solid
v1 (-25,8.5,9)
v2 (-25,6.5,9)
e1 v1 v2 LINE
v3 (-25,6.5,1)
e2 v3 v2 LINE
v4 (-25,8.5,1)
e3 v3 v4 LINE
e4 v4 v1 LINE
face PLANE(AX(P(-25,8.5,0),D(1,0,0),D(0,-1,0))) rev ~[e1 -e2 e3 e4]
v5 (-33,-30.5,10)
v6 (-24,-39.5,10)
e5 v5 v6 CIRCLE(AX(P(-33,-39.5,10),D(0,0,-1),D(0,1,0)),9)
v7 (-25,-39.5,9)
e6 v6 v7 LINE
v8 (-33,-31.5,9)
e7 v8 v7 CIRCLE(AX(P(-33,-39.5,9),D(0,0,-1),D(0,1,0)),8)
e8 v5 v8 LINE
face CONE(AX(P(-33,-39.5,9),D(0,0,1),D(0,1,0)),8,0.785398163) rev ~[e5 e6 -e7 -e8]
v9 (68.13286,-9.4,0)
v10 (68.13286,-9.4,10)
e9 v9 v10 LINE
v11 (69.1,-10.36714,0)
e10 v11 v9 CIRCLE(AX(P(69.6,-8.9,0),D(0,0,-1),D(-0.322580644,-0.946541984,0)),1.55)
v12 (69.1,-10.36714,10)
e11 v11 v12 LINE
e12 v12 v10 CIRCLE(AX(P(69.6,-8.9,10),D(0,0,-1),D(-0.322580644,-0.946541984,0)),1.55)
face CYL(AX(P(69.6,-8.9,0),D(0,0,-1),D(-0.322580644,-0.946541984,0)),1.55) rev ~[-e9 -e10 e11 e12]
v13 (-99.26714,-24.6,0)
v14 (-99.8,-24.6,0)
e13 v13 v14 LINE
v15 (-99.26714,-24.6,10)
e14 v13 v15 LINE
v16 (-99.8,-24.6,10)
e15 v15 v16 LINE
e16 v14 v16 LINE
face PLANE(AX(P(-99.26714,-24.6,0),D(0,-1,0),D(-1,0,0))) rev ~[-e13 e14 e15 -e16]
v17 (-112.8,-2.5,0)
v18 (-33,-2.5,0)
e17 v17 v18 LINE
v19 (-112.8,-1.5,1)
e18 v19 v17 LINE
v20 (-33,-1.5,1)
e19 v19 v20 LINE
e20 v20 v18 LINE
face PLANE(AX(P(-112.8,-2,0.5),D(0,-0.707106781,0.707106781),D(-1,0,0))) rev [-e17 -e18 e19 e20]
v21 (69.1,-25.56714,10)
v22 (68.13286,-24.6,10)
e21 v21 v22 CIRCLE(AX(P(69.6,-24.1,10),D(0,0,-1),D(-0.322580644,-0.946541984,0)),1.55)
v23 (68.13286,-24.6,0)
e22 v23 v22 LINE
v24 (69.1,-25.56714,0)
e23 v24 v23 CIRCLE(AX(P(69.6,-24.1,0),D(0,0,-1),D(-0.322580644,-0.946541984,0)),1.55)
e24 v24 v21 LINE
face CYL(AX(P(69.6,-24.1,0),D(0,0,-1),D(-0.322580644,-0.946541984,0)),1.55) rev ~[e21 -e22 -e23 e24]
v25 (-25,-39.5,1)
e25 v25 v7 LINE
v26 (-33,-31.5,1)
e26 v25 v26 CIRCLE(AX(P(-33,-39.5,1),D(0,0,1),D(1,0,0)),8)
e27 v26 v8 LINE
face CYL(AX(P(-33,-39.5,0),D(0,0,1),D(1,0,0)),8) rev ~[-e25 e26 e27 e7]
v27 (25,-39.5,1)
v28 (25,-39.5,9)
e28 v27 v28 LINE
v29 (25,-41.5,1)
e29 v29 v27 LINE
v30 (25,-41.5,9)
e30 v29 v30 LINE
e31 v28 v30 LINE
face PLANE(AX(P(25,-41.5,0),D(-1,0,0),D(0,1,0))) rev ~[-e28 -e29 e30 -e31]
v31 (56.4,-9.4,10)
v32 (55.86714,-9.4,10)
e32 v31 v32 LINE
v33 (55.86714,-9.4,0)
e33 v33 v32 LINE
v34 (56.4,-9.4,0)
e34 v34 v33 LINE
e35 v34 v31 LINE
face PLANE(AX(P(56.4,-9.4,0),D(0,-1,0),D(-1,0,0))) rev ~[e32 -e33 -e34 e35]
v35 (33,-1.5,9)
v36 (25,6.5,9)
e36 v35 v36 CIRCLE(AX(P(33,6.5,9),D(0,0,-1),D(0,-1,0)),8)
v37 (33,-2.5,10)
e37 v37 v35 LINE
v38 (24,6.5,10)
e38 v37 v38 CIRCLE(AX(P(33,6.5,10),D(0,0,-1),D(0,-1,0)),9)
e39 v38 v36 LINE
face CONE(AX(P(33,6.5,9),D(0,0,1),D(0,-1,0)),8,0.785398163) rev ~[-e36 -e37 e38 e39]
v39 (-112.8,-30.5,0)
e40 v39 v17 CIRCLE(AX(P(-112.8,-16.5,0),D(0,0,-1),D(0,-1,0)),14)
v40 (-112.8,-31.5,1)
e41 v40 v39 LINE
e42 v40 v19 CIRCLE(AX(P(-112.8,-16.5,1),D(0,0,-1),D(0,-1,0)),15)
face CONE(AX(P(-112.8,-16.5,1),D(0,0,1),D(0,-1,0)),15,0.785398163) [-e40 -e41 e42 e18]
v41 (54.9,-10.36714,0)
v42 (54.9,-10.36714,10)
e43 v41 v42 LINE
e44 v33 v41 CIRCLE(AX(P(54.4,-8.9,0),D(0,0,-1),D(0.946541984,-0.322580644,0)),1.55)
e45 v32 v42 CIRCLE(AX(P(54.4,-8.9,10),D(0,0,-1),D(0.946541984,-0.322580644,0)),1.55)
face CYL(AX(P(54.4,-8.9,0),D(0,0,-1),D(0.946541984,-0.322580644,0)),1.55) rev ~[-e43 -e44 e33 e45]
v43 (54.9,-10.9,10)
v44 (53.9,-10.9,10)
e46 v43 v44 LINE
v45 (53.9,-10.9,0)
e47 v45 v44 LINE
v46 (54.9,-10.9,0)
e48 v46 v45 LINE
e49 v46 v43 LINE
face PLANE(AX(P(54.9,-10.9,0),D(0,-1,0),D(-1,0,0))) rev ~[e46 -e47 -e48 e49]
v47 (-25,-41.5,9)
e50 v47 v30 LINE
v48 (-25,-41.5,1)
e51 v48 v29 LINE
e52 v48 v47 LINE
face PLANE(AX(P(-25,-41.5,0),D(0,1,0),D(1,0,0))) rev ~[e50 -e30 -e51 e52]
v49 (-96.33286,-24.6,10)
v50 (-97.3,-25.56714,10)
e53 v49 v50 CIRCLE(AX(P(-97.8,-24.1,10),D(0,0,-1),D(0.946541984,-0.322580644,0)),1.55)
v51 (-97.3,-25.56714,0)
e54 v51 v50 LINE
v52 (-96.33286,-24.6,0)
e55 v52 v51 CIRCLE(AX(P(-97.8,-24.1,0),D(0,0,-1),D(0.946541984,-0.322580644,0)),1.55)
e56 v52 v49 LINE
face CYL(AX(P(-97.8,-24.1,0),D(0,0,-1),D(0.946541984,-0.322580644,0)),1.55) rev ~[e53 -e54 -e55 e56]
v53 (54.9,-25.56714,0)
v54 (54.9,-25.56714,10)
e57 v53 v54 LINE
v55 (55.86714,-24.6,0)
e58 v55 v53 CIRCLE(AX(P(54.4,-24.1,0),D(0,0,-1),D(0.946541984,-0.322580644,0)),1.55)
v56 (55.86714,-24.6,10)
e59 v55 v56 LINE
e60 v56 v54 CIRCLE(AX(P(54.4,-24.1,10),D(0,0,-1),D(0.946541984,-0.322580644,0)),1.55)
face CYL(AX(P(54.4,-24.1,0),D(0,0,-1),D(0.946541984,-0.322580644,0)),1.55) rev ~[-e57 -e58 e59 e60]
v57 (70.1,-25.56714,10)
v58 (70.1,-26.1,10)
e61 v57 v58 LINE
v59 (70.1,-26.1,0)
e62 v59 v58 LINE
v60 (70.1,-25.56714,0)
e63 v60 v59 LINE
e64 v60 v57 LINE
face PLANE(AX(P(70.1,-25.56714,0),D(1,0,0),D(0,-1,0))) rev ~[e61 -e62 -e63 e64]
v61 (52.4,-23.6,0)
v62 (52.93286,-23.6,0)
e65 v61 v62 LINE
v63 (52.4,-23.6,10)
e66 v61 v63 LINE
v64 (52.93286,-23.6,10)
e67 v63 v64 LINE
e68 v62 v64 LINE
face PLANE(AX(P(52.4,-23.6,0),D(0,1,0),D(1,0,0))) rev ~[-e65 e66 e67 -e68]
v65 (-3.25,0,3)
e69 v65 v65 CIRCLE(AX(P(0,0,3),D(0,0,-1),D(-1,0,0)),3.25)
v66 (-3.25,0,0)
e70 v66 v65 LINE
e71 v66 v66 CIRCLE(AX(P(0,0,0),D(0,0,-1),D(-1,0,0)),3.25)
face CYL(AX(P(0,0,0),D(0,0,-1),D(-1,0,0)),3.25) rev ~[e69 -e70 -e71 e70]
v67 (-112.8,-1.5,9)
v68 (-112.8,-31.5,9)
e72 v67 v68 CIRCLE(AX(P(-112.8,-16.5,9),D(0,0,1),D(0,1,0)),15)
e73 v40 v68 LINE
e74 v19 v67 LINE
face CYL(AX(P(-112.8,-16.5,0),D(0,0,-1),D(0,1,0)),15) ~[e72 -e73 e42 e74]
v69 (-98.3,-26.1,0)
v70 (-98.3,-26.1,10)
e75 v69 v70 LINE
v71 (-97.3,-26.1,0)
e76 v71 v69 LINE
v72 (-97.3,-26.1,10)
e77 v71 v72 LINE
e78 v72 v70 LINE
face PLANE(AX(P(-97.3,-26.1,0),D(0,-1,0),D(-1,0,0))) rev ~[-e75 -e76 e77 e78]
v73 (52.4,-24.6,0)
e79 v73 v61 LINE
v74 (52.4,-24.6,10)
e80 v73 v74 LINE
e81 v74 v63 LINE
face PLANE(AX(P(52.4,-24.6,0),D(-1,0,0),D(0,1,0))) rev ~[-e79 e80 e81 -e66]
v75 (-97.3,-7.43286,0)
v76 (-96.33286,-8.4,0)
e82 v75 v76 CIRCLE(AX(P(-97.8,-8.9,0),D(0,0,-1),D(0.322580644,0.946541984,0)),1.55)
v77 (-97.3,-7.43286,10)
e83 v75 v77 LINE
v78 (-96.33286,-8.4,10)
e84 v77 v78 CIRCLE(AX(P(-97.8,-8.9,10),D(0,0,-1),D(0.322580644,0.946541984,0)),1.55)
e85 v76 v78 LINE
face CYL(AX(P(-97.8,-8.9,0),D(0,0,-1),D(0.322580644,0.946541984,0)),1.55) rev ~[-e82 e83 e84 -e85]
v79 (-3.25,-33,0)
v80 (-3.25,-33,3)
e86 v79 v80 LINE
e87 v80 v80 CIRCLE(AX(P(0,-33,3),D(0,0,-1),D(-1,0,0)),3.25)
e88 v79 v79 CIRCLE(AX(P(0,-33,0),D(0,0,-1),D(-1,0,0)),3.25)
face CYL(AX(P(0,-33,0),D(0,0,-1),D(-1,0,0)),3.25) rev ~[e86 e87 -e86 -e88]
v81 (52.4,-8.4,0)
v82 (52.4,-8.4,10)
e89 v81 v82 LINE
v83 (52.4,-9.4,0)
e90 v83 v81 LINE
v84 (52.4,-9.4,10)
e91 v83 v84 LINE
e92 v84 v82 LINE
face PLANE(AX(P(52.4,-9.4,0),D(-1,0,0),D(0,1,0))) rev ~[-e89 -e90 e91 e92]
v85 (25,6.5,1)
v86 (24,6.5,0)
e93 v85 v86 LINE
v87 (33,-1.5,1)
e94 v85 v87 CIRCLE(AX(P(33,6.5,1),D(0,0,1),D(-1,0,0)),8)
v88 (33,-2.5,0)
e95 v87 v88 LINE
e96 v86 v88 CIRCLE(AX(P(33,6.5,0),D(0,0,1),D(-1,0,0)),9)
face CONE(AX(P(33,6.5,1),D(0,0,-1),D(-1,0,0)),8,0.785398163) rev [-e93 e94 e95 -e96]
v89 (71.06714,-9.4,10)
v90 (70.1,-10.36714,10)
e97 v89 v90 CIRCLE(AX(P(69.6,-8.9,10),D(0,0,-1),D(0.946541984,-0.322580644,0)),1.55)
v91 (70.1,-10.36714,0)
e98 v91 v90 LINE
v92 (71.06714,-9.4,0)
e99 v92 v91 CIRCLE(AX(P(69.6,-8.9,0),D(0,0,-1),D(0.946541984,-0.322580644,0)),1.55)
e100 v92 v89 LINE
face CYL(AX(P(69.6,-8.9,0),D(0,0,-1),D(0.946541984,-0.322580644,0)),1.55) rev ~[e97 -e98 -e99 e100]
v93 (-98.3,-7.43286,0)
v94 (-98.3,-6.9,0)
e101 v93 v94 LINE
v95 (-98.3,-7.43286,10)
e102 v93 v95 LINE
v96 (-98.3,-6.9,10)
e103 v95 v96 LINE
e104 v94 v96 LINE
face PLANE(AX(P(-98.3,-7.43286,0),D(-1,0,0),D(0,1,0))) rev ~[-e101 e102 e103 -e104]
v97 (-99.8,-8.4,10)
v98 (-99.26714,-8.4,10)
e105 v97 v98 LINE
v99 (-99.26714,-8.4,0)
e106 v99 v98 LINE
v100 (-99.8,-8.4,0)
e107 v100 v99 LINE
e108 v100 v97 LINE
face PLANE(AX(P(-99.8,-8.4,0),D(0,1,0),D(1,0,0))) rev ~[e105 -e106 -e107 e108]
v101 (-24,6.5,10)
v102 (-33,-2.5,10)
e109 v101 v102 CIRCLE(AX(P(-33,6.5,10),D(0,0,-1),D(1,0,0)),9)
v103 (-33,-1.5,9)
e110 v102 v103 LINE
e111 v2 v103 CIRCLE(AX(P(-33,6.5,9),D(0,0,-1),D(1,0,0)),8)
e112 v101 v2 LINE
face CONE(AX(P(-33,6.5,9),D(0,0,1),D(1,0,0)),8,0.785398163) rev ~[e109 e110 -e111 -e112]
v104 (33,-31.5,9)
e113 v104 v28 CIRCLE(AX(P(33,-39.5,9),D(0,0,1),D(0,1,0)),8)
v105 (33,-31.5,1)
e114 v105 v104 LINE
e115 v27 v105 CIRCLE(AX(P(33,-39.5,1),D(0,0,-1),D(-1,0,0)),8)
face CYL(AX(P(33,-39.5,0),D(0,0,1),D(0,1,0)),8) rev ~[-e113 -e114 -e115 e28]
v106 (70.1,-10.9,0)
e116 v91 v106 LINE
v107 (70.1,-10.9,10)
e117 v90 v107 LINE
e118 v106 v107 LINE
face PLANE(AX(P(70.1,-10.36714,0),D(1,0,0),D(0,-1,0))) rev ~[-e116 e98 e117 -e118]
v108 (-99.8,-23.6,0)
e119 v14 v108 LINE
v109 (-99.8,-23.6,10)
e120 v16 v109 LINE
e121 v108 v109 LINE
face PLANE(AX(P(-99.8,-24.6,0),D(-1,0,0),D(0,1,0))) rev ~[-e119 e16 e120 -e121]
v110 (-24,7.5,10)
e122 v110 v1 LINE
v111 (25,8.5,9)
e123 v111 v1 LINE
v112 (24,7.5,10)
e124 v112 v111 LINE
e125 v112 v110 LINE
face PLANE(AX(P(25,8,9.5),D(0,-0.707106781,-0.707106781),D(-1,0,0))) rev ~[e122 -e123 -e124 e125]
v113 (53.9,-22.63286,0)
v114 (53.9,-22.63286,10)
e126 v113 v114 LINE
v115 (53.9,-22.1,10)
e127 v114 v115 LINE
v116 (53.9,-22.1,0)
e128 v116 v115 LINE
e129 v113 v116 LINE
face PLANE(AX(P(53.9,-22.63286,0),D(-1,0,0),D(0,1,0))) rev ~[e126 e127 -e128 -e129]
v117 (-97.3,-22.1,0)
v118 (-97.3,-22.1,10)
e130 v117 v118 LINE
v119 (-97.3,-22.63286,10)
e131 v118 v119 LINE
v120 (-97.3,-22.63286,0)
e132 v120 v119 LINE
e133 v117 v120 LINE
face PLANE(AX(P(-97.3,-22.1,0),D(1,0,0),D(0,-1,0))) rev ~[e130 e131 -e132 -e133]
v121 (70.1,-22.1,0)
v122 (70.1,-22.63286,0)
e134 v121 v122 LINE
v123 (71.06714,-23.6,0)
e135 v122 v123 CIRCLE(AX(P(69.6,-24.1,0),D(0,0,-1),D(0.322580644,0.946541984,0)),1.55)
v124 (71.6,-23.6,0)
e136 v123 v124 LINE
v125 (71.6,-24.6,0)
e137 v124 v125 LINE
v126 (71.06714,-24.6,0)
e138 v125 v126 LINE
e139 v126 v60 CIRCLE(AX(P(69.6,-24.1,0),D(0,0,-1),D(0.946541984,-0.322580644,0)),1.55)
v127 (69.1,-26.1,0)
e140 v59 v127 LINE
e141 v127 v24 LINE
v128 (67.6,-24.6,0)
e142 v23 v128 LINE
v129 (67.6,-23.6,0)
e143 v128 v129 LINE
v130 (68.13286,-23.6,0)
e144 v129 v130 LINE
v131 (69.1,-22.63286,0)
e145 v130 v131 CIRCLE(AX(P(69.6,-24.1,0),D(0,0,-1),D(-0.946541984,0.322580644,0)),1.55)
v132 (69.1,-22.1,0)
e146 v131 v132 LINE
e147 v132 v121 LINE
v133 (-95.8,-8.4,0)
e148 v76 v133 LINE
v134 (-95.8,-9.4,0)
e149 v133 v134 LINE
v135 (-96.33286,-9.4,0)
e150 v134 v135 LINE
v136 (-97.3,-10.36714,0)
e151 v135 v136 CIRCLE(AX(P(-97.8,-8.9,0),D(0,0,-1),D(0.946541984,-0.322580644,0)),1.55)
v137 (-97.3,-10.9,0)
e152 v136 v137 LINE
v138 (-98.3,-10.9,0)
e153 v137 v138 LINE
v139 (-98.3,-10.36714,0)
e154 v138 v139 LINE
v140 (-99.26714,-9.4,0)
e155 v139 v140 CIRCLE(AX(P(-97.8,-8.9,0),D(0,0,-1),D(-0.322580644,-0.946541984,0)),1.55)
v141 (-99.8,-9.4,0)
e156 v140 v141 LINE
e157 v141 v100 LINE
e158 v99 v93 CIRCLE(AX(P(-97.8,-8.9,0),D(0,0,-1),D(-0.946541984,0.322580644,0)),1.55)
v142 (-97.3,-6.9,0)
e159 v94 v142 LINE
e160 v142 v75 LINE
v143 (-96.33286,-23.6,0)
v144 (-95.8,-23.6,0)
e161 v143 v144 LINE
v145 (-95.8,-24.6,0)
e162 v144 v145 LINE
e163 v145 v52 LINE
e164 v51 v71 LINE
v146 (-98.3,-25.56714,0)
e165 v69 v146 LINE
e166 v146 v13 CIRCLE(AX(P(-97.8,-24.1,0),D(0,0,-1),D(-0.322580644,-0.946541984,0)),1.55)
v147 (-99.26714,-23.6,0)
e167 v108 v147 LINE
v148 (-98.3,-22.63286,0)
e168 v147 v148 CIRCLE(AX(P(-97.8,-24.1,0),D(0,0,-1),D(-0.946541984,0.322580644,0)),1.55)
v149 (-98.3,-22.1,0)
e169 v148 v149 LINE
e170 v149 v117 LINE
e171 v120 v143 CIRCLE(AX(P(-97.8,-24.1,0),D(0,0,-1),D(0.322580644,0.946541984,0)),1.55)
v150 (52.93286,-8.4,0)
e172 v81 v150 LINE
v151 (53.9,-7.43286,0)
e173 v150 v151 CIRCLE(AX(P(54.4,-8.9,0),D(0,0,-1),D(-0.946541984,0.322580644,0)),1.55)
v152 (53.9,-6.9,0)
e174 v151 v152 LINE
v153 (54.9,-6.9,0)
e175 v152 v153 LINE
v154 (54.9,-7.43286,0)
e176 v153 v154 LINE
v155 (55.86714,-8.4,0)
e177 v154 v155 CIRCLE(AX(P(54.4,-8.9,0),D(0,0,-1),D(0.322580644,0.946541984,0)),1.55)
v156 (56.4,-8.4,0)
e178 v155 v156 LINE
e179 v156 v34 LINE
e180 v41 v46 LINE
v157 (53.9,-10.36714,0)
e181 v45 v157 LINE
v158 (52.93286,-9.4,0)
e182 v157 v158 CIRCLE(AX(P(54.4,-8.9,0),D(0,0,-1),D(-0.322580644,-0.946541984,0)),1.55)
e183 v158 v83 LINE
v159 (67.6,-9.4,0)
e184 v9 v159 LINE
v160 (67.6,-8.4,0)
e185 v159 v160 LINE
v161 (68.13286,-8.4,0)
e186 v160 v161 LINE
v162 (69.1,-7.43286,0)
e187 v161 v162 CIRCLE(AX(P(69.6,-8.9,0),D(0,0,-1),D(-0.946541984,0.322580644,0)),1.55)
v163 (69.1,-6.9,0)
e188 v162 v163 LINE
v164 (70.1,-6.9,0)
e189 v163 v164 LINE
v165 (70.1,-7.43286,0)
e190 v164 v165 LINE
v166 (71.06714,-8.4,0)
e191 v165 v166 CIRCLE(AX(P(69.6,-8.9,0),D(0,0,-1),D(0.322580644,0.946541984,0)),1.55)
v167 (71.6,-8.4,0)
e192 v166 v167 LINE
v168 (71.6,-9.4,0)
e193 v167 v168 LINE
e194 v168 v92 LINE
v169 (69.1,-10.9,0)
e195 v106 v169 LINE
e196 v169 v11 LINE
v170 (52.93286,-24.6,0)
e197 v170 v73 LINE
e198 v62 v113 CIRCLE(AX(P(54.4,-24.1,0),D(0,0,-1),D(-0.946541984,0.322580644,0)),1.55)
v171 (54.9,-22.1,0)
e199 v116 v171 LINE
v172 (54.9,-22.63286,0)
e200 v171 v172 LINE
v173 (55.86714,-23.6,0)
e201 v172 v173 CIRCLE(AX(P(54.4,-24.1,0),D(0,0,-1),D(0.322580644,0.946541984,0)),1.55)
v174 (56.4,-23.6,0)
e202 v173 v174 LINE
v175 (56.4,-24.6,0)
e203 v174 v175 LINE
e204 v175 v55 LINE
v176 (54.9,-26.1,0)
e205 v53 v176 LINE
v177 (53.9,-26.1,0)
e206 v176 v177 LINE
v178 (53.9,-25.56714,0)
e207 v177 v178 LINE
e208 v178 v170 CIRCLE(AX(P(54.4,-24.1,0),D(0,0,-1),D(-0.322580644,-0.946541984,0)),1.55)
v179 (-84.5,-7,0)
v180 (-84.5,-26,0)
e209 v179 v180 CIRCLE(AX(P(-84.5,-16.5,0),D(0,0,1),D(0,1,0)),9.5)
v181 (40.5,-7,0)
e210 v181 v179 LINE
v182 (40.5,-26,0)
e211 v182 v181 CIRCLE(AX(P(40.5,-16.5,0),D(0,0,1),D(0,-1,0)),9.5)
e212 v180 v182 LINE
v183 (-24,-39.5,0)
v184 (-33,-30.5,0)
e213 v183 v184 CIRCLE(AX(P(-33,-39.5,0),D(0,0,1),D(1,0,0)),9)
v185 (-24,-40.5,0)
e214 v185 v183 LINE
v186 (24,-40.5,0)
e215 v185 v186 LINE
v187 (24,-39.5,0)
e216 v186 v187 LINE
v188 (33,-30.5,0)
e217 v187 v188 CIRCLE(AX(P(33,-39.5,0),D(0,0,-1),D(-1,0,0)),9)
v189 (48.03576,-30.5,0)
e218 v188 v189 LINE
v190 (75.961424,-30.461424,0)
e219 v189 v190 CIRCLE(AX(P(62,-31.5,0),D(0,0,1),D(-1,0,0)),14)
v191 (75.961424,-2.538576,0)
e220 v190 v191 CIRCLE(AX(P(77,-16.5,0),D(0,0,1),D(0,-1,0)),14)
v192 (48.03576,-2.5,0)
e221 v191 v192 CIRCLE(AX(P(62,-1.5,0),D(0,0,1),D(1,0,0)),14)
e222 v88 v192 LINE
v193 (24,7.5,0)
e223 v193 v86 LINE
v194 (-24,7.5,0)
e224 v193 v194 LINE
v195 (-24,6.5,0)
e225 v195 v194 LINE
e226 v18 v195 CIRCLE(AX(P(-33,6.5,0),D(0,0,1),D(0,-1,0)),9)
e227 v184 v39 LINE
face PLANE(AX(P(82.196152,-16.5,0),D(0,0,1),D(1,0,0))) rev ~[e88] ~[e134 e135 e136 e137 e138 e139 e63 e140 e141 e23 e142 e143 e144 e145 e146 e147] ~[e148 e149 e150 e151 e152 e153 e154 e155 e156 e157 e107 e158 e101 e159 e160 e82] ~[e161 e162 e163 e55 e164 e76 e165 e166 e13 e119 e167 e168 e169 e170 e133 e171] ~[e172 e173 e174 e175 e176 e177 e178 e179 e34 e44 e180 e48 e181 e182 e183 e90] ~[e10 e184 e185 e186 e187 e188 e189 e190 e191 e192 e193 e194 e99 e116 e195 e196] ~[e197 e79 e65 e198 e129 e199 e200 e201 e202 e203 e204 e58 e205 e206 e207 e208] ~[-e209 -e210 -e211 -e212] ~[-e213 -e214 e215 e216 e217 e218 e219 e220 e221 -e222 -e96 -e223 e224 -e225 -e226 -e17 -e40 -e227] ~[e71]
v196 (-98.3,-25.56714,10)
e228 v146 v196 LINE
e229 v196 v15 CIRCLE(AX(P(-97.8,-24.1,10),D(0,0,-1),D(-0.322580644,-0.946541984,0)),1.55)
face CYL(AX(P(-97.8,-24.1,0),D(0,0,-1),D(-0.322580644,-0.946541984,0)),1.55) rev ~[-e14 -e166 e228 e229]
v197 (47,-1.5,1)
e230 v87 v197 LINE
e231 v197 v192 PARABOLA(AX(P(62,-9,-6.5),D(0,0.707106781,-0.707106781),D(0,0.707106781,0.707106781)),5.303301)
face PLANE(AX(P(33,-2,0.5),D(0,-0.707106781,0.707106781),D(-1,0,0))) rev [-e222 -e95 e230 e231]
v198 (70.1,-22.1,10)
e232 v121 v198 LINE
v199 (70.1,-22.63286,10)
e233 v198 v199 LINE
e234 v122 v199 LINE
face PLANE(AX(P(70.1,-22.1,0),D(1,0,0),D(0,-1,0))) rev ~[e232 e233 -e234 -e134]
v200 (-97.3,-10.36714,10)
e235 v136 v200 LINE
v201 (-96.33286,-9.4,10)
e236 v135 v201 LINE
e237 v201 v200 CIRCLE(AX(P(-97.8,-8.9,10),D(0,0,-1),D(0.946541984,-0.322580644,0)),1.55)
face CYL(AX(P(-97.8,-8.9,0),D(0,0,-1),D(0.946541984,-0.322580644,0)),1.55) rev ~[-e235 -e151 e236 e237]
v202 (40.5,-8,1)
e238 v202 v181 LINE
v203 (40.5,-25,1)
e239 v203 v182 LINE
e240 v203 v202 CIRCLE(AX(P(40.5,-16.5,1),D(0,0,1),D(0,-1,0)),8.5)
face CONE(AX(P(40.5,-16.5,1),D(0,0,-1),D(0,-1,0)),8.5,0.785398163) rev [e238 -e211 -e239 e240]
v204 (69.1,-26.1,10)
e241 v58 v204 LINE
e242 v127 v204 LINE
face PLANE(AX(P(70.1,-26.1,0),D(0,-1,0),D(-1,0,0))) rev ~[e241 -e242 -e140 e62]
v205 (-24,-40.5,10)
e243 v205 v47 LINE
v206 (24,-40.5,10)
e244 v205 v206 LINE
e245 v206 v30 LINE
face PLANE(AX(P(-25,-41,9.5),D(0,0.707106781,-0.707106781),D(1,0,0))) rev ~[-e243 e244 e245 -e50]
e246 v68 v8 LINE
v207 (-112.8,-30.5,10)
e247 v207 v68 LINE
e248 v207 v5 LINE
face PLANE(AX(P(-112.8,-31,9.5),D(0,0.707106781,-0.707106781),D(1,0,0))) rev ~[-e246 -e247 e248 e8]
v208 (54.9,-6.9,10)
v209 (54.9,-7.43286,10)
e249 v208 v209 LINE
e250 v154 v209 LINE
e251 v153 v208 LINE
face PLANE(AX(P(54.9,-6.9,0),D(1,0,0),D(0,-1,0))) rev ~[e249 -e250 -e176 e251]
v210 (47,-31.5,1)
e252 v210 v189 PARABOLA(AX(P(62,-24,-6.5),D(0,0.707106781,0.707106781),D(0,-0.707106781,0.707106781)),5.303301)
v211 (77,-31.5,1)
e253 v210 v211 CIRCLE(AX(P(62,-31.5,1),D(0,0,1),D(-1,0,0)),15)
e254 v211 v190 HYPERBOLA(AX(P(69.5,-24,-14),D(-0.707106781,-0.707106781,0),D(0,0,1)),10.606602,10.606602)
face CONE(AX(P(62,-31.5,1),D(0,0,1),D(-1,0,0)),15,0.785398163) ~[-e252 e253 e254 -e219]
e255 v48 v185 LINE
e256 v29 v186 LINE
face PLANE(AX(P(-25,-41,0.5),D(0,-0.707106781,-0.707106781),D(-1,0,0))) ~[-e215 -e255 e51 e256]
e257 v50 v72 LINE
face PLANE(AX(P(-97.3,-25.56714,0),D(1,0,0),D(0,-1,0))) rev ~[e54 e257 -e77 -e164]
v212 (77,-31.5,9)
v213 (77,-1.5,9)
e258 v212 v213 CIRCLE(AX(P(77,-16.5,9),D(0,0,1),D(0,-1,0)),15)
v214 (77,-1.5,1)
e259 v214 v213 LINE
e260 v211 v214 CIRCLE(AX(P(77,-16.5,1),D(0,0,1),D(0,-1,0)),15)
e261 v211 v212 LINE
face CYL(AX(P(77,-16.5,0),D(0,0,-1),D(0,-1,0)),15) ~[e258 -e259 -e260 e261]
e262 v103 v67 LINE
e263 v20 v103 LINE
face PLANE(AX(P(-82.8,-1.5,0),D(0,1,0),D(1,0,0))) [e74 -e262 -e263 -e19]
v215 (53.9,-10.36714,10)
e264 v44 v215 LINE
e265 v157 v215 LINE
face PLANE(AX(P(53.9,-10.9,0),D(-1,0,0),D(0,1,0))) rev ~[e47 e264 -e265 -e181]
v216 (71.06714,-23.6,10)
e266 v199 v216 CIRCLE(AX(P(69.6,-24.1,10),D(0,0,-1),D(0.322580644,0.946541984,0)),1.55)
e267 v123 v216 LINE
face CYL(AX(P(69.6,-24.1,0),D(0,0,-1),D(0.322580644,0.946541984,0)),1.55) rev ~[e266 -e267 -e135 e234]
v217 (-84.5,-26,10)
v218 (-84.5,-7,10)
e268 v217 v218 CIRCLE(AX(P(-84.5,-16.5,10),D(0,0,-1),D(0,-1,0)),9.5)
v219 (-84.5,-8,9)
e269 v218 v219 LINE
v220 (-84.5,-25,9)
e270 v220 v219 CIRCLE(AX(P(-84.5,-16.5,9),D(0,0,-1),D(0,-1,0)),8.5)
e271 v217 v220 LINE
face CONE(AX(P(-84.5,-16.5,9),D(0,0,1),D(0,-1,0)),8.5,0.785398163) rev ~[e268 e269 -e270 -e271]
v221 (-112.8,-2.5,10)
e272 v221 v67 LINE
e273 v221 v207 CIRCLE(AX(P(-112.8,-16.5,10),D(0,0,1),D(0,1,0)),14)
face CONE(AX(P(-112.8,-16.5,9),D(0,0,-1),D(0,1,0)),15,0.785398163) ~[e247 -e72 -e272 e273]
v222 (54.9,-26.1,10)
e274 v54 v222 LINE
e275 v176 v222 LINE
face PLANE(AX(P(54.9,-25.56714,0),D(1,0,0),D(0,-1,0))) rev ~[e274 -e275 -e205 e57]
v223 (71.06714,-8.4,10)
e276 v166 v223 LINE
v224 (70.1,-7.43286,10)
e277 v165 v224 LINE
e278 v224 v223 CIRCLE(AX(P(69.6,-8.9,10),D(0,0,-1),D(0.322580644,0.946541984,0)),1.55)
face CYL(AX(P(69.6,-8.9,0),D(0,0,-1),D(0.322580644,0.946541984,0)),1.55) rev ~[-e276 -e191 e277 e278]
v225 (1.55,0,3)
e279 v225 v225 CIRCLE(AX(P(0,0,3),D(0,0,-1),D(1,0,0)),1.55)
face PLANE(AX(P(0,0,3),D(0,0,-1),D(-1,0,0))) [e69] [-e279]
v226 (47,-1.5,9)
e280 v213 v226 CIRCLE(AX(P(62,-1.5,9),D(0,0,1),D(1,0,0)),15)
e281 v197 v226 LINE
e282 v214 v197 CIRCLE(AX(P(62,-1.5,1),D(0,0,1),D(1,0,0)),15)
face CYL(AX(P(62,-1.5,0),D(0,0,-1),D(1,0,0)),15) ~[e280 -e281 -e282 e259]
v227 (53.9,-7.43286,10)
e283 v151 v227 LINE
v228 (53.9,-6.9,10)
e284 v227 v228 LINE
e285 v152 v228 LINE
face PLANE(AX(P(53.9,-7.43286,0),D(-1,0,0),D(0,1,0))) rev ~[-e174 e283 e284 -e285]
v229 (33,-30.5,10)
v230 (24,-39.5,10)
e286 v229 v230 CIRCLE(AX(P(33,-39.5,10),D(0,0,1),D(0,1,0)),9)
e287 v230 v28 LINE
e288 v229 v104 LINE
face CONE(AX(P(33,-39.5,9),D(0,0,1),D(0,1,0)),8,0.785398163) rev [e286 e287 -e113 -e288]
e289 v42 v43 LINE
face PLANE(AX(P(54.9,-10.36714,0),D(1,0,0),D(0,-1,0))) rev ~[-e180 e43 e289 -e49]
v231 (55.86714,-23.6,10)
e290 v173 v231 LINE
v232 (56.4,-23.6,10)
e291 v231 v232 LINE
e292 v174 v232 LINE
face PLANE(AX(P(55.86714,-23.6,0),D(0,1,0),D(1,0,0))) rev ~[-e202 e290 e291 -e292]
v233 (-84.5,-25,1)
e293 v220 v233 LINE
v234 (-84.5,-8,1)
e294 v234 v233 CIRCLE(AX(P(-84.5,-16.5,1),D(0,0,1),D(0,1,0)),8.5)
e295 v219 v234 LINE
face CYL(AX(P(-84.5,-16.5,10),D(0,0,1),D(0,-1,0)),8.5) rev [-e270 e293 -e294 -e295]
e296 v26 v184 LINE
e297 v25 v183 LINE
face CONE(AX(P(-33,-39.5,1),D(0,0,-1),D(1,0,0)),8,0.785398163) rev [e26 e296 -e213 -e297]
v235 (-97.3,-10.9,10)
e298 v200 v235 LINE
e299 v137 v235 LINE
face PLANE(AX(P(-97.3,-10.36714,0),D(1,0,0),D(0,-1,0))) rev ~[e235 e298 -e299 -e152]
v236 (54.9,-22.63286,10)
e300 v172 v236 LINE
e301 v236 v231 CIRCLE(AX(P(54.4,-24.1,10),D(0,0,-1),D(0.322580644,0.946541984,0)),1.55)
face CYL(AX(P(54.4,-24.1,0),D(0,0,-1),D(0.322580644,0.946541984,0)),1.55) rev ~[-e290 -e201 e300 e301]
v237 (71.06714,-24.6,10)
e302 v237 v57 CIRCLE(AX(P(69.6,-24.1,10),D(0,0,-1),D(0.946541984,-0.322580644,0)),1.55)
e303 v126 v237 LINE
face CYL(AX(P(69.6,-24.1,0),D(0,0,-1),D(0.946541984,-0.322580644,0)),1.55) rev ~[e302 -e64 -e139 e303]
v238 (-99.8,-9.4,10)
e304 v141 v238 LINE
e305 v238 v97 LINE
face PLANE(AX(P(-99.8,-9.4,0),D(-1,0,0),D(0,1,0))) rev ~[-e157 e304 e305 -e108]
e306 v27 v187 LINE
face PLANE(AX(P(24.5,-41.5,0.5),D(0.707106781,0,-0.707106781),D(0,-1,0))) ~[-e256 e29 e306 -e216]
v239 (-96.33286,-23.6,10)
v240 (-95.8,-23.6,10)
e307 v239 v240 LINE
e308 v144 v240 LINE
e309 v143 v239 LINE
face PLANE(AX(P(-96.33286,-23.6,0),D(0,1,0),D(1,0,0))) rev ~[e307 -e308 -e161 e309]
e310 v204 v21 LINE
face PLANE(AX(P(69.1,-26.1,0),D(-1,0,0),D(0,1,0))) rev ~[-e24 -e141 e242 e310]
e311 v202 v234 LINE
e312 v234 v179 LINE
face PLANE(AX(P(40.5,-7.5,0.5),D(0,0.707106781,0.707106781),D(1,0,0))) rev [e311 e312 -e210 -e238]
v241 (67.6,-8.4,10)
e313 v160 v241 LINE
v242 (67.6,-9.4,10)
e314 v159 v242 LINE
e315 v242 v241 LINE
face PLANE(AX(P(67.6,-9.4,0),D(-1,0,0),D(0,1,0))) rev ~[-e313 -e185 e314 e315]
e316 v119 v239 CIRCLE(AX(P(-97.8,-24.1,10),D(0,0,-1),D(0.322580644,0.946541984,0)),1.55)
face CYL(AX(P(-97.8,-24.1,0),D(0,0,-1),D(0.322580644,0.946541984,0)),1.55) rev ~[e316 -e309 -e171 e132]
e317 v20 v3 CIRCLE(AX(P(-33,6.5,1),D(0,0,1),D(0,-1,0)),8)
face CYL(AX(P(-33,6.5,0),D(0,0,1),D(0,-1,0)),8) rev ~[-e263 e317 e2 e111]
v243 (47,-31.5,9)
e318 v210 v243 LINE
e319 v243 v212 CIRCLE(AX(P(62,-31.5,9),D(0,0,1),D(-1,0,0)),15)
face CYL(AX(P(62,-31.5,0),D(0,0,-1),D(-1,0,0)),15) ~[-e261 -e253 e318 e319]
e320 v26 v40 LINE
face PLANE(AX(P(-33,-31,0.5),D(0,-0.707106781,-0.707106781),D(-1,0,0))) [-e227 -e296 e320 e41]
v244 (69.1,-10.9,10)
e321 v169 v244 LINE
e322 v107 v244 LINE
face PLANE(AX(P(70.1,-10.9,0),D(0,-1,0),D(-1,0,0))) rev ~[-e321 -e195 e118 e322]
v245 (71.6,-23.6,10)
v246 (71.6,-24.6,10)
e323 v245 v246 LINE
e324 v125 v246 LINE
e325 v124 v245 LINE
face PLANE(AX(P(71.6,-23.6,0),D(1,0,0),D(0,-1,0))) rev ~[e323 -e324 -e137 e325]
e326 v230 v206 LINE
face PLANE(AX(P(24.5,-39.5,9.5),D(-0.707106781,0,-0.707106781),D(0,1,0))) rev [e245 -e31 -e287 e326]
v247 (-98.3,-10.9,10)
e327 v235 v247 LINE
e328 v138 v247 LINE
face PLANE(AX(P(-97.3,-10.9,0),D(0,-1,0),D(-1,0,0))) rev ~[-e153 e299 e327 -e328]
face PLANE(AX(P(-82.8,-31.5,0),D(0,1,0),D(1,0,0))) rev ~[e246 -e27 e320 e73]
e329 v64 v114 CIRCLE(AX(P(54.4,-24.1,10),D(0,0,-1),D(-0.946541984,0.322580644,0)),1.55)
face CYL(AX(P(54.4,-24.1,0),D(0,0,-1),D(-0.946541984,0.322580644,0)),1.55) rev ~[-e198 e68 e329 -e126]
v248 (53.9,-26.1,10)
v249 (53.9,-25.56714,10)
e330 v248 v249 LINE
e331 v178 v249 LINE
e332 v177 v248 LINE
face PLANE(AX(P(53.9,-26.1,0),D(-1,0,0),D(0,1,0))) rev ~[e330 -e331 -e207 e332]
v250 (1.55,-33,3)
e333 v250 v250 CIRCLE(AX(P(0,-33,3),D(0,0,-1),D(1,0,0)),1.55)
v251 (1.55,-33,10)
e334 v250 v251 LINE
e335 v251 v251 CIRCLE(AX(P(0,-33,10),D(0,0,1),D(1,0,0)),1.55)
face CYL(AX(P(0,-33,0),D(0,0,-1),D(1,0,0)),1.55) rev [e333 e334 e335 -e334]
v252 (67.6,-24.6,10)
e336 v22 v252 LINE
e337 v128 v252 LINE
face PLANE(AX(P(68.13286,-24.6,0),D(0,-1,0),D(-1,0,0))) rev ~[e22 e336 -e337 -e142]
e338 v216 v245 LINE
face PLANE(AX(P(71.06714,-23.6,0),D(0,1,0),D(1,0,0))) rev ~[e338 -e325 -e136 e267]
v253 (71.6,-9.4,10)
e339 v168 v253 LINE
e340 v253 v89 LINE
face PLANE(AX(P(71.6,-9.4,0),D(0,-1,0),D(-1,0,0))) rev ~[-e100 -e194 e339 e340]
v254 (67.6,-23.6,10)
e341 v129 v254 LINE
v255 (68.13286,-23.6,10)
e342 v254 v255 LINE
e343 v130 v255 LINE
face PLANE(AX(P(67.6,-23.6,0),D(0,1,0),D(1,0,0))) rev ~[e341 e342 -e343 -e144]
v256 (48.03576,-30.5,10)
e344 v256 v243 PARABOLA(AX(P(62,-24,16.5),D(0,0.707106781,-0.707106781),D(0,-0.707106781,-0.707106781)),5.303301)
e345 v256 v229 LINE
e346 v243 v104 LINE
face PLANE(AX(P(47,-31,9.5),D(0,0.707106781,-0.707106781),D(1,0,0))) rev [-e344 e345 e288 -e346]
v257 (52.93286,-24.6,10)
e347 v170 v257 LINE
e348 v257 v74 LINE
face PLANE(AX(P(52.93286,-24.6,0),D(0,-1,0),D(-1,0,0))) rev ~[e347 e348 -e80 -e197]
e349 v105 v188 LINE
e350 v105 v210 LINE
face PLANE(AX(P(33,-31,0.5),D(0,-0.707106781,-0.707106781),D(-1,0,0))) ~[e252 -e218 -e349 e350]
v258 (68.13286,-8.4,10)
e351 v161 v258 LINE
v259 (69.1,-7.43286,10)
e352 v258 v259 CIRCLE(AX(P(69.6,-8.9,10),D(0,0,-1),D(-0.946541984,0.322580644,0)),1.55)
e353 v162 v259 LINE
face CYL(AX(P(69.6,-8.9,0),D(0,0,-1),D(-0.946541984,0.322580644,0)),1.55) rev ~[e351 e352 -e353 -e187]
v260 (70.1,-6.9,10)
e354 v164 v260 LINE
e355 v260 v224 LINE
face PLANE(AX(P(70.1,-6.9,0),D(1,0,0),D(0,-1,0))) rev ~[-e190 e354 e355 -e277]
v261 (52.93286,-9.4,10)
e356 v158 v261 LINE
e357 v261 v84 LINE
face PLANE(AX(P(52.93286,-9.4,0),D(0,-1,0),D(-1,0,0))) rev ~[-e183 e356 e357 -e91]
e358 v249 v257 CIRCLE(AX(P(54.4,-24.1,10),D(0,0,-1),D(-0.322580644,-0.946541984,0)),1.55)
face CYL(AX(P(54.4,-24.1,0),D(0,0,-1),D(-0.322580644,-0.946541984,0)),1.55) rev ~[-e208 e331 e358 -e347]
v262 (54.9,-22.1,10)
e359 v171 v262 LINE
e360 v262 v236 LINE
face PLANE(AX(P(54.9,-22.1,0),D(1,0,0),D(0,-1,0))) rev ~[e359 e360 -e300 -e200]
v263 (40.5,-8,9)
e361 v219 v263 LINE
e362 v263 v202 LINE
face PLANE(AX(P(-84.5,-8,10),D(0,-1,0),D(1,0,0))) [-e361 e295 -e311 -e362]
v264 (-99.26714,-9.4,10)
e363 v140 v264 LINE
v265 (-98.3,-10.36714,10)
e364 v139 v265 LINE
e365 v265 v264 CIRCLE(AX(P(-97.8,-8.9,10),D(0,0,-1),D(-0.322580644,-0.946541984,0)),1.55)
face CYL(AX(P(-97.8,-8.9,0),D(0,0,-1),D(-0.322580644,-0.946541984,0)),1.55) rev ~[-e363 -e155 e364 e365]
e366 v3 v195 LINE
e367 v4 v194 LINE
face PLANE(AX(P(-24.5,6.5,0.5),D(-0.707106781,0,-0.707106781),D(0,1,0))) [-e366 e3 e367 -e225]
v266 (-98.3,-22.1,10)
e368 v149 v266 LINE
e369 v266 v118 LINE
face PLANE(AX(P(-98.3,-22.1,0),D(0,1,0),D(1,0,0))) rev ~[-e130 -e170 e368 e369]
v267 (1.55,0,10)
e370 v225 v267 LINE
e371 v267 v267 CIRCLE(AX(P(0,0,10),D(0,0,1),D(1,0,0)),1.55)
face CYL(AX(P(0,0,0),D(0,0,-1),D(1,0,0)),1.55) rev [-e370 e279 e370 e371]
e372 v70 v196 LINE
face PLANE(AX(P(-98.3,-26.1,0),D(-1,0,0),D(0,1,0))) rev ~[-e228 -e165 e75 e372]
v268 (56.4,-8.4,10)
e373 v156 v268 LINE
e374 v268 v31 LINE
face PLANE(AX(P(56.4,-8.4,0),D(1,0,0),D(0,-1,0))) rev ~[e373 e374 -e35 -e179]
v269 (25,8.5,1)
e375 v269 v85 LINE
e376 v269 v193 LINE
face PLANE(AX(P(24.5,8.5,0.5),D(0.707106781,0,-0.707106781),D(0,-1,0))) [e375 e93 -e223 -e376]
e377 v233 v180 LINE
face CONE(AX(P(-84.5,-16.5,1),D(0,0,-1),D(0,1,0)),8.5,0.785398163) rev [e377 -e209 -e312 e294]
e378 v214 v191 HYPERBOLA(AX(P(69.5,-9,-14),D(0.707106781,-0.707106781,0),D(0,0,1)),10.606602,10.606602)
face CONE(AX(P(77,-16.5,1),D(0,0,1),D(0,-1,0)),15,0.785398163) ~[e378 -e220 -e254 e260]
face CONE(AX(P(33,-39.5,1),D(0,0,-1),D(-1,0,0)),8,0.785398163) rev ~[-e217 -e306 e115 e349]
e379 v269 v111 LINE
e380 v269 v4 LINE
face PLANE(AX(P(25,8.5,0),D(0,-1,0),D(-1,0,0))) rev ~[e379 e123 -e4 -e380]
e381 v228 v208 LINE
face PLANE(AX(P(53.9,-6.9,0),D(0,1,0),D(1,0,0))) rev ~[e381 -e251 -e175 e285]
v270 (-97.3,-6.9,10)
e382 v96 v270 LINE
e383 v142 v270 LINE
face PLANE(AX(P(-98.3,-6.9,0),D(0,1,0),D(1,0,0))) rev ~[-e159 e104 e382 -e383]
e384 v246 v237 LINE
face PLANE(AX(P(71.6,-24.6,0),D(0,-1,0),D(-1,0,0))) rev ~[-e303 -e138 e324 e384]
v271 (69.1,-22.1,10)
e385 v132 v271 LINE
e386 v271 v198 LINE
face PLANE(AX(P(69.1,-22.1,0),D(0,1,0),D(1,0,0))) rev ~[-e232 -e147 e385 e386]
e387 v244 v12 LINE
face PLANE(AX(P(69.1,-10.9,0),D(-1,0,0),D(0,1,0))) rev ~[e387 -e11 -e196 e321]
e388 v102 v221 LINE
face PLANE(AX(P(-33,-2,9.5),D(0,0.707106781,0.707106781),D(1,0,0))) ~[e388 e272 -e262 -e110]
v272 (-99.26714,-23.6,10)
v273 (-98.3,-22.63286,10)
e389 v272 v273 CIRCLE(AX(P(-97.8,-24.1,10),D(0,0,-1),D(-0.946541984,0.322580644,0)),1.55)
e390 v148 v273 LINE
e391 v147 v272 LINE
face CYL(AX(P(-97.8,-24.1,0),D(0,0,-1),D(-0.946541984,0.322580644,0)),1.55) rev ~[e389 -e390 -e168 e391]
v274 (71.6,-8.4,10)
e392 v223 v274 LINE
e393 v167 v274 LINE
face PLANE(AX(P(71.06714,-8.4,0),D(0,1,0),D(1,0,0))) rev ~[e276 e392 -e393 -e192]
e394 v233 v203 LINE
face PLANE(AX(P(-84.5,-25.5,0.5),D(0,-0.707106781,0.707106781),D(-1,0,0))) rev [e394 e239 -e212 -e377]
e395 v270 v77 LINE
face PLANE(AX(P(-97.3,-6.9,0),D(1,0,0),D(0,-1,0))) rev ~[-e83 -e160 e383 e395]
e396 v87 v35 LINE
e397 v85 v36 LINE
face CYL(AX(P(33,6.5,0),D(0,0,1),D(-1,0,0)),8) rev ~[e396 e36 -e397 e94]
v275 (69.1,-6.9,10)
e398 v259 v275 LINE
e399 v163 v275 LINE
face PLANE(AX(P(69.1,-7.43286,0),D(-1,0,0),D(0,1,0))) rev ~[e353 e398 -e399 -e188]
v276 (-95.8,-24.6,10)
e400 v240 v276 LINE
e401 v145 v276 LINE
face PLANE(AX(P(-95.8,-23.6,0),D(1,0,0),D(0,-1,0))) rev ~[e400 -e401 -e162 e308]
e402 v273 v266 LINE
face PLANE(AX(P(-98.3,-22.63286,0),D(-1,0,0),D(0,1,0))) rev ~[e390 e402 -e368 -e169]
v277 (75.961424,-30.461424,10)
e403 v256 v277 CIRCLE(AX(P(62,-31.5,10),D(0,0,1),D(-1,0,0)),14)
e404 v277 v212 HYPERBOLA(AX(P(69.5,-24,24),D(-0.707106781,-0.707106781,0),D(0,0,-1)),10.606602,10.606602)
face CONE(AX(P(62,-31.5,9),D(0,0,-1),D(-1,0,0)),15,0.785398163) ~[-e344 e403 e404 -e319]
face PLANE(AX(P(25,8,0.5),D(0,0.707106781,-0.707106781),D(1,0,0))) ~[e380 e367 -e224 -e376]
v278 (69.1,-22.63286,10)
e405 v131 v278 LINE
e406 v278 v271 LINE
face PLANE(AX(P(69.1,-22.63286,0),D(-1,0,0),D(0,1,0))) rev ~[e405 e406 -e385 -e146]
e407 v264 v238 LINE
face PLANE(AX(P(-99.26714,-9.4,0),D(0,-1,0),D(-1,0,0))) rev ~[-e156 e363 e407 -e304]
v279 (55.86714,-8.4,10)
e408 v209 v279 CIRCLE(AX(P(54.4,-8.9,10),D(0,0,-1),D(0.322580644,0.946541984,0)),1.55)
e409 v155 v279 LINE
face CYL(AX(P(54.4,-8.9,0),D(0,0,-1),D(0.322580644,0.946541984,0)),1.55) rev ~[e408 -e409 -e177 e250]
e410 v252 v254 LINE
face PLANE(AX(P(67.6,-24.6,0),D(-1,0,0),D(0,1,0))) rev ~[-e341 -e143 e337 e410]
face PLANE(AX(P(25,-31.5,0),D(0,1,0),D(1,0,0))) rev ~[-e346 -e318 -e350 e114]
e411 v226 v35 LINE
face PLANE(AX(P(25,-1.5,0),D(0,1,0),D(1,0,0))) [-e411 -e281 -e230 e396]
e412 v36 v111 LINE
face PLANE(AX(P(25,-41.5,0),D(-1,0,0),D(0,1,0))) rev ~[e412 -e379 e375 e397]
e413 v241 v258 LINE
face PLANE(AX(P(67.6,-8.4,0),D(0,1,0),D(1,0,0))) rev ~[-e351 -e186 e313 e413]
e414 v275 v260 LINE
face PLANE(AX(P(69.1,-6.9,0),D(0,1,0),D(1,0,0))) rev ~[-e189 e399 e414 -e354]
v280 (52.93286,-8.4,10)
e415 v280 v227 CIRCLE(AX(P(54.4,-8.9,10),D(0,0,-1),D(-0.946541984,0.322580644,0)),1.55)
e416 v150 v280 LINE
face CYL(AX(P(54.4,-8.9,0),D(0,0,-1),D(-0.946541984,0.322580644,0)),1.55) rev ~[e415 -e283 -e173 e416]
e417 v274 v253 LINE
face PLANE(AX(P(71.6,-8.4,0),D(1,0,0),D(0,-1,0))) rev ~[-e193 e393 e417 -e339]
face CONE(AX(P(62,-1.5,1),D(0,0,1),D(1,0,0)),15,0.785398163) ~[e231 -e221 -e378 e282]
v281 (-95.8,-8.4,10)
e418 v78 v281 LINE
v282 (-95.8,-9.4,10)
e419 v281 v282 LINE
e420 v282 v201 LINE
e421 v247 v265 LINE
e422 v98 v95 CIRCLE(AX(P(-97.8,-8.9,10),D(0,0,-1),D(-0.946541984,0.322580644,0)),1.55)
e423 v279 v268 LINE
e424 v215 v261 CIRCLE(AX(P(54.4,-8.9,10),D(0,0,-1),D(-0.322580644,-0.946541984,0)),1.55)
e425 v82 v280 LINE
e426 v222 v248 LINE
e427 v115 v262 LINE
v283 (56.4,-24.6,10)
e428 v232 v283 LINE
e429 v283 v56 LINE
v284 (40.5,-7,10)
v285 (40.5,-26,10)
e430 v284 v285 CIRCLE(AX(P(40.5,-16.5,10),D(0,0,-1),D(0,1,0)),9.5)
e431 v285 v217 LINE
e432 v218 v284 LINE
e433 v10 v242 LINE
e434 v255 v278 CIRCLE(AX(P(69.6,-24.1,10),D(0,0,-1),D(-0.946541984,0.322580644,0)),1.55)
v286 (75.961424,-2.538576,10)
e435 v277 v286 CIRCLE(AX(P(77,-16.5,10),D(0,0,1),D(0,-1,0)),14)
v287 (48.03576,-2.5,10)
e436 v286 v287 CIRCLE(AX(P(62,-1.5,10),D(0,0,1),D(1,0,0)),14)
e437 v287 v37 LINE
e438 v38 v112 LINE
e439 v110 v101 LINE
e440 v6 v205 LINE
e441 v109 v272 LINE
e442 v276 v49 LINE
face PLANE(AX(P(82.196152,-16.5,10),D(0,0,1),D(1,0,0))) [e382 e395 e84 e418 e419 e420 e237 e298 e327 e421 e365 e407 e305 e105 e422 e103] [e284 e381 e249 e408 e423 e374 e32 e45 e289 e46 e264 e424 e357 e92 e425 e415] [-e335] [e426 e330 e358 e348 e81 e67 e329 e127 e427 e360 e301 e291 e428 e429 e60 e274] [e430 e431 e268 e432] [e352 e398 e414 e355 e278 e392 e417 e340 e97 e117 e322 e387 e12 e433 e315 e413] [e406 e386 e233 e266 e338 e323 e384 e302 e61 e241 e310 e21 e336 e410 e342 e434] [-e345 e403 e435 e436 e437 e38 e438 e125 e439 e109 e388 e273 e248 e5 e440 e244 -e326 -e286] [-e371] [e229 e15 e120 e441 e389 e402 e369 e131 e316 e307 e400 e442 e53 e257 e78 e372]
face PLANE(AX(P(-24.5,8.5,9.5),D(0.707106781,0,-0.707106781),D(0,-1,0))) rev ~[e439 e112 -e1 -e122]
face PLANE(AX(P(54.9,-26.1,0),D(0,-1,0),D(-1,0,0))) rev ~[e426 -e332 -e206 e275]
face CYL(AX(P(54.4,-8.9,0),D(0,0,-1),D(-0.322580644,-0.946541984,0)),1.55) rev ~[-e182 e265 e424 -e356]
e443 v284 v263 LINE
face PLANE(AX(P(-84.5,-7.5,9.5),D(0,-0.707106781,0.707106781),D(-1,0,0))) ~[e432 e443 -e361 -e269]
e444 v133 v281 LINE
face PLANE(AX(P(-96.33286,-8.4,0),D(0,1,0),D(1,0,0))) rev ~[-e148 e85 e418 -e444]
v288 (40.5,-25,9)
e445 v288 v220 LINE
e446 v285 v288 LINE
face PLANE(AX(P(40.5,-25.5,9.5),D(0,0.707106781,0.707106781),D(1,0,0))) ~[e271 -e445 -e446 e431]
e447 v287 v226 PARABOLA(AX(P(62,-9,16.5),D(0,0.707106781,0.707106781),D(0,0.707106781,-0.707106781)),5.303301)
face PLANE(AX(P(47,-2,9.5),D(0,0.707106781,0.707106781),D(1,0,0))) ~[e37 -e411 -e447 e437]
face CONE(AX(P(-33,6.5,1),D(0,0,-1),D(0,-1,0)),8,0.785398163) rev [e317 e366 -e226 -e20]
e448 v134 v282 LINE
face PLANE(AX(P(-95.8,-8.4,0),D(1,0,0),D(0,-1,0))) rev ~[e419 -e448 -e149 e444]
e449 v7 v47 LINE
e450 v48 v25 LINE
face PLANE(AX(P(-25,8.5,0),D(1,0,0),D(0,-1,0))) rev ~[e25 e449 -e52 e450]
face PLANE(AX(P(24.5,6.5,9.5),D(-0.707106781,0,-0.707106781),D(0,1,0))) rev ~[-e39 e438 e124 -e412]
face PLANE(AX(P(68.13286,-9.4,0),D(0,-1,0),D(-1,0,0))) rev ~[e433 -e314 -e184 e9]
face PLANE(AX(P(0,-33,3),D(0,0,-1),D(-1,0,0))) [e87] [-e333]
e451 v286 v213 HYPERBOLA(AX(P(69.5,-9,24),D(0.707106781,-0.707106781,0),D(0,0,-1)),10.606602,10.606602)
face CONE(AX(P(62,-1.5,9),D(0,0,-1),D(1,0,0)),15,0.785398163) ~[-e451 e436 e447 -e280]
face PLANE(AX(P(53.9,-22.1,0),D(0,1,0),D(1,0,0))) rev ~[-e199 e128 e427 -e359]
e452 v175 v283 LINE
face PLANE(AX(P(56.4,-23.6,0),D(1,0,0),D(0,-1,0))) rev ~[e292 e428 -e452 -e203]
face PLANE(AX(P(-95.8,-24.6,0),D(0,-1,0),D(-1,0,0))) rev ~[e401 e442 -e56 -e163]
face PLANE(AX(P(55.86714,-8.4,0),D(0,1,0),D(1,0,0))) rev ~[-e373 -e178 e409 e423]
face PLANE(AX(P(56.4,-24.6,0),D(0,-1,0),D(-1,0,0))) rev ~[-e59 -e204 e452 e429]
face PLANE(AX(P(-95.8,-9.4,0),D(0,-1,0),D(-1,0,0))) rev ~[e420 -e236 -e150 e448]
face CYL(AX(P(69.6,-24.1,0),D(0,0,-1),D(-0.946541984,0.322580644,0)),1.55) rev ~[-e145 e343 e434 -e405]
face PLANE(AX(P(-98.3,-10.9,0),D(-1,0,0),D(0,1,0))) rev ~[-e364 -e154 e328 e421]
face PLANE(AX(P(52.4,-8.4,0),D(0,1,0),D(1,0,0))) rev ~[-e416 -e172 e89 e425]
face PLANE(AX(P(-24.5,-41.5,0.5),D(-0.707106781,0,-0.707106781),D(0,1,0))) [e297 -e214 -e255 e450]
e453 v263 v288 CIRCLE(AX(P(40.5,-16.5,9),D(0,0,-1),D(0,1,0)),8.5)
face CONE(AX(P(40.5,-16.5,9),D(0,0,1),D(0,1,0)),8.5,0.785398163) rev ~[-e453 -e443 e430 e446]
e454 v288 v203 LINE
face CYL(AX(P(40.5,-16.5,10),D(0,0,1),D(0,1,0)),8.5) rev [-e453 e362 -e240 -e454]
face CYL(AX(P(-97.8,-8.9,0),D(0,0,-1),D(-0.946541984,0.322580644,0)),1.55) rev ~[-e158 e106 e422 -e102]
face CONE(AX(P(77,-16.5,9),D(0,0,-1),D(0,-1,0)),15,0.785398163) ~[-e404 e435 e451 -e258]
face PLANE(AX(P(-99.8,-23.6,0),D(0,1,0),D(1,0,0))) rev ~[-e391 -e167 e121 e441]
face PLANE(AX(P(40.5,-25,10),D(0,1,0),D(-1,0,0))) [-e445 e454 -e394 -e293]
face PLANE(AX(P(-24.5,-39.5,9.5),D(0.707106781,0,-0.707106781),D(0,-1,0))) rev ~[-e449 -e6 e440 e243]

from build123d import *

# Parameters (mm, degrees)
SKETCH1_R           = 1.55
SKETCH1_W           = 57.8
SKETCH1_H           = 30
SKETCH1_W_2         = 22
SKETCH1_W_3         = 30
BOSS_EXTRUDE1_DEPTH = 10
FILLET2_R           = 8
CHAMFER1_SIZE       = 1
SKETCH2_R           = 3.25
CUT_EXTRUDE1_DEPTH  = 3
CUT_EXTRUDE2_DEPTH  = 137.363814848
CHAMFER2_SIZE       = 1


with BuildPart() as part:
    # Sketch1 → Boss-Extrude1 (new body)
    # profile 1 of 9: a face of its own
    with BuildSketch(Plane.XY):
        Polygon((-25, -31.5), (-25, -41.5), (25, -41.5), (25, -31.5), (25, -1.5), (25, 8.5), (-25, 8.5), (-25, -1.5), align=None)
        with Locations((0, -33)):
            Circle(SKETCH1_R, mode=Mode.SUBTRACT)
        Circle(SKETCH1_R, mode=Mode.SUBTRACT)
    # profile 2 of 9: a face of its own
    with BuildSketch(Plane.XY):
        with Locations((-53.9, -16.5)):
            Rectangle(SKETCH1_W, SKETCH1_H)
    # profile 3 of 9: a face of its own
    with BuildSketch(Plane.XY):
        with Locations((36, -16.5)):
            Rectangle(SKETCH1_W_2, SKETCH1_H)
    # profile 4 of 9: a face of its own
    with BuildSketch(Plane.XY):
        with Locations((-97.8, -16.5)):
            Rectangle(SKETCH1_W_3, SKETCH1_H)
        with BuildLine():
            Line((-99.8, -24.6), (-99.8, -23.6))
            Line((-99.8, -23.6), (-99.267140075, -23.6))
            ThreePointArc((-99.267140075, -23.6), (-98.896015511, -23.003984489), (-98.3, -22.632859925))
            Line((-98.3, -22.632859925), (-98.3, -22.1))
            Line((-98.3, -22.1), (-97.3, -22.1))
            Line((-97.3, -22.1), (-97.3, -22.632859925))
            ThreePointArc((-97.3, -22.632859925), (-96.703984489, -23.003984489), (-96.332859925, -23.6))
            Line((-96.332859925, -23.6), (-95.8, -23.6))
            Line((-95.8, -23.6), (-95.8, -24.6))
            Line((-95.8, -24.6), (-96.332859925, -24.6))
            ThreePointArc((-96.332859925, -24.6), (-96.703984489, -25.196015511), (-97.3, -25.567140075))
            Line((-97.3, -25.567140075), (-97.3, -26.1))
            Line((-97.3, -26.1), (-98.3, -26.1))
            Line((-98.3, -26.1), (-98.3, -25.567140075))
            ThreePointArc((-98.3, -25.567140075), (-98.896015511, -25.196015511), (-99.267140075, -24.6))
            Line((-99.267140075, -24.6), (-99.8, -24.6))
        make_face(mode=Mode.SUBTRACT)
        with BuildLine():
            Line((-97.3, -10.9), (-98.3, -10.9))
            Line((-98.3, -10.9), (-98.3, -10.367140075))
            ThreePointArc((-98.3, -10.367140075), (-98.896015511, -9.996015511), (-99.267140075, -9.4))
            Line((-99.267140075, -9.4), (-99.8, -9.4))
            Line((-99.8, -9.4), (-99.8, -8.4))
            Line((-99.8, -8.4), (-99.267140075, -8.4))
            ThreePointArc((-99.267140075, -8.4), (-98.896015511, -7.803984489), (-98.3, -7.432859925))
            Line((-98.3, -7.432859925), (-98.3, -6.9))
            Line((-98.3, -6.9), (-97.3, -6.9))
            Line((-97.3, -6.9), (-97.3, -7.432859925))
            ThreePointArc((-97.3, -7.432859925), (-96.703984489, -7.803984489), (-96.332859925, -8.4))
            Line((-96.332859925, -8.4), (-95.8, -8.4))
            Line((-95.8, -8.4), (-95.8, -9.4))
            Line((-95.8, -9.4), (-96.332859925, -9.4))
            ThreePointArc((-96.332859925, -9.4), (-96.703984489, -9.996015511), (-97.3, -10.367140075))
            Line((-97.3, -10.367140075), (-97.3, -10.9))
        make_face(mode=Mode.SUBTRACT)
    # profile 5 of 9: a face of its own
    with BuildSketch(Plane.XY):
        with Locations((62, -16.5)):
            Rectangle(SKETCH1_W_3, SKETCH1_H)
        with BuildLine():
            Line((55.867140075, -23.6), (56.4, -23.6))
            Line((56.4, -23.6), (56.4, -24.6))
            Line((56.4, -24.6), (55.867140075, -24.6))
            ThreePointArc((55.867140075, -24.6), (55.496015511, -25.196015511), (54.9, -25.567140075))
            Line((54.9, -25.567140075), (54.9, -26.1))
            Line((54.9, -26.1), (53.9, -26.1))
            Line((53.9, -26.1), (53.9, -25.567140075))
            ThreePointArc((53.9, -25.567140075), (53.303984489, -25.196015511), (52.932859925, -24.6))
            Line((52.932859925, -24.6), (52.4, -24.6))
            Line((52.4, -24.6), (52.4, -23.6))
            Line((52.4, -23.6), (52.932859925, -23.6))
            ThreePointArc((52.932859925, -23.6), (53.303984489, -23.003984489), (53.9, -22.632859925))
            Line((53.9, -22.632859925), (53.9, -22.1))
            Line((53.9, -22.1), (54.9, -22.1))
            Line((54.9, -22.1), (54.9, -22.632859925))
            ThreePointArc((54.9, -22.632859925), (55.496015511, -23.003984489), (55.867140075, -23.6))
        make_face(mode=Mode.SUBTRACT)
        with BuildLine():
            Line((67.6, -24.6), (67.6, -23.6))
            Line((67.6, -23.6), (68.132859925, -23.6))
            ThreePointArc((68.132859925, -23.6), (68.503984489, -23.003984489), (69.1, -22.632859925))
            Line((69.1, -22.632859925), (69.1, -22.1))
            Line((69.1, -22.1), (70.1, -22.1))
            Line((70.1, -22.1), (70.1, -22.632859925))
            ThreePointArc((70.1, -22.632859925), (70.696015511, -23.003984489), (71.067140075, -23.6))
            Line((71.067140075, -23.6), (71.6, -23.6))
            Line((71.6, -23.6), (71.6, -24.6))
            Line((71.6, -24.6), (71.067140075, -24.6))
            ThreePointArc((71.067140075, -24.6), (70.696015511, -25.196015511), (70.1, -25.567140075))
            Line((70.1, -25.567140075), (70.1, -26.1))
            Line((70.1, -26.1), (69.1, -26.1))
            Line((69.1, -26.1), (69.1, -25.567140075))
            ThreePointArc((69.1, -25.567140075), (68.503984489, -25.196015511), (68.132859925, -24.6))
            Line((68.132859925, -24.6), (67.6, -24.6))
        make_face(mode=Mode.SUBTRACT)
        with BuildLine():
            Line((56.4, -8.4), (56.4, -9.4))
            Line((56.4, -9.4), (55.867140075, -9.4))
            ThreePointArc((55.867140075, -9.4), (55.496015511, -9.996015511), (54.9, -10.367140075))
            Line((54.9, -10.367140075), (54.9, -10.9))
            Line((54.9, -10.9), (53.9, -10.9))
            Line((53.9, -10.9), (53.9, -10.367140075))
            ThreePointArc((53.9, -10.367140075), (53.303984489, -9.996015511), (52.932859925, -9.4))
            Line((52.932859925, -9.4), (52.4, -9.4))
            Line((52.4, -9.4), (52.4, -8.4))
            Line((52.4, -8.4), (52.932859925, -8.4))
            ThreePointArc((52.932859925, -8.4), (53.303984489, -7.803984489), (53.9, -7.432859925))
            Line((53.9, -7.432859925), (53.9, -6.9))
            Line((53.9, -6.9), (54.9, -6.9))
            Line((54.9, -6.9), (54.9, -7.432859925))
            ThreePointArc((54.9, -7.432859925), (55.496015511, -7.803984489), (55.867140075, -8.4))
            Line((55.867140075, -8.4), (56.4, -8.4))
        make_face(mode=Mode.SUBTRACT)
        with BuildLine():
            Line((70.1, -10.9), (69.1, -10.9))
            Line((69.1, -10.9), (69.1, -10.367140075))
            ThreePointArc((69.1, -10.367140075), (68.503984489, -9.996015511), (68.132859925, -9.4))
            Line((68.132859925, -9.4), (67.6, -9.4))
            Line((67.6, -9.4), (67.6, -8.4))
            Line((67.6, -8.4), (68.132859925, -8.4))
            ThreePointArc((68.132859925, -8.4), (68.503984489, -7.803984489), (69.1, -7.432859925))
            Line((69.1, -7.432859925), (69.1, -6.9))
            Line((69.1, -6.9), (70.1, -6.9))
            Line((70.1, -6.9), (70.1, -7.432859925))
            ThreePointArc((70.1, -7.432859925), (70.696015511, -7.803984489), (71.067140075, -8.4))
            Line((71.067140075, -8.4), (71.6, -8.4))
            Line((71.6, -8.4), (71.6, -9.4))
            Line((71.6, -9.4), (71.067140075, -9.4))
            ThreePointArc((71.067140075, -9.4), (70.696015511, -9.996015511), (70.1, -10.367140075))
            Line((70.1, -10.367140075), (70.1, -10.9))
        make_face(mode=Mode.SUBTRACT)
    # profile 6 of 9: a face of its own
    with BuildSketch(Plane.XY):
        with BuildLine():
            Line((77, -31.5), (47, -31.5))
            ThreePointArc((47, -31.5), (62, -46.5), (77, -31.5))
        make_face()
    # profile 7 of 9: a face of its own
    with BuildSketch(Plane.XY):
        with BuildLine():
            ThreePointArc((-112.8, -1.5), (-127.8, -16.5), (-112.8, -31.5))
            Line((-112.8, -31.5), (-112.8, -1.5))
        make_face()
    # profile 8 of 9: a face of its own
    with BuildSketch(Plane.XY):
        with BuildLine():
            ThreePointArc((77, -1.5), (62, 13.5), (47, -1.5))
            Line((47, -1.5), (77, -1.5))
        make_face()
    # profile 9 of 9: a face of its own
    with BuildSketch(Plane.XY):
        with BuildLine():
            Line((77, -1.5), (77, -31.5))
            ThreePointArc((77, -31.5), (92, -16.5), (77, -1.5))
        make_face()
    extrude(amount=BOSS_EXTRUDE1_DEPTH)

    # Fillet2
    fillet2_edges = [part.edges().sort_by_distance(p)[0] for p in [
        (-25, -1.5, 5),
        (25, -1.5, 5),
        (25, -31.5, 5),
        (-25, -31.5, 5),
    ]]
    fillet(fillet2_edges, radius=FILLET2_R)

    # Chamfer1
    chamfer1_edges = [part.edges().sort_by_distance(p)[0] for p in [
        (-127.8, -16.5, 10),
        (-72.9, -1.5, 0),
        (0, 8.5, 0),
        (40, -1.5, 0),
        (62, 13.5, 0),
        (92, -16.5, 0),
        (62, -46.5, 0),
        (40, -31.5, 0),
        (25, -40.5, 0),
        (0, -41.5, 0),
        (-25, -40.5, 0),
        (-72.9, -31.5, 0),
        (-127.8, -16.5, 0),
        (-72.9, -31.5, 10),
        (-25, -40.5, 10),
        (0, -41.5, 10),
        (25, 7.5, 0),
        (25, 7.5, 10),
        (-25, 7.5, 0),
        (-25, 7.5, 10),
        (27.343145751, 0.843145751, 0),
        (27.343145751, 0.843145751, 10),
        (27.343145751, -33.843145751, 0),
        (27.343145751, -33.843145751, 10),
        (25, -40.5, 10),
        (-27.343145751, -33.843145751, 0),
        (-27.343145751, -33.843145751, 10),
        (-27.343145751, 0.843145751, 0),
        (-27.343145751, 0.843145751, 10),
        (40, -31.5, 10),
        (62, -46.5, 10),
        (92, -16.5, 10),
        (62, 13.5, 10),
        (40, -1.5, 10),
        (0, 8.5, 10),
        (-72.9, -1.5, 10),
    ]]
    chamfer(chamfer1_edges, length=CHAMFER1_SIZE)

    # Sketch2 → Cut-Extrude1 (cut)
    with BuildSketch(Plane(origin=(0, 0, 0), x_dir=(-1, 0, 0), z_dir=(0, 0, -1))):
        Circle(SKETCH2_R)
        with Locations((0, -33)):
            Circle(SKETCH2_R)
    extrude(amount=-CUT_EXTRUDE1_DEPTH, mode=Mode.SUBTRACT)

    # Sketch3 → Cut-Extrude2 (cut, through all)
    with BuildSketch(Plane.XY.offset(10)):
        with BuildLine():
            Line((-84.5, -8), (40.5, -8))
            ThreePointArc((40.5, -8), (49, -16.5), (40.5, -25))
            Line((40.5, -25), (-84.5, -25))
            ThreePointArc((-84.5, -25), (-93, -16.5), (-84.5, -8))
        make_face()
    extrude(amount=-CUT_EXTRUDE2_DEPTH, mode=Mode.SUBTRACT)

    # Chamfer2
    chamfer2_edges = [part.edges().sort_by_distance(p)[0] for p in [
        (-93, -16.5, 0),
        (-22, -8, 0),
        (49, -16.5, 0),
        (-22, -25, 0),
        (-93, -16.5, 10),
        (-22, -25, 10),
        (49, -16.5, 10),
        (-22, -8, 10),
    ]]
    chamfer(chamfer2_edges, length=CHAMFER2_SIZE)


solid = part.part
